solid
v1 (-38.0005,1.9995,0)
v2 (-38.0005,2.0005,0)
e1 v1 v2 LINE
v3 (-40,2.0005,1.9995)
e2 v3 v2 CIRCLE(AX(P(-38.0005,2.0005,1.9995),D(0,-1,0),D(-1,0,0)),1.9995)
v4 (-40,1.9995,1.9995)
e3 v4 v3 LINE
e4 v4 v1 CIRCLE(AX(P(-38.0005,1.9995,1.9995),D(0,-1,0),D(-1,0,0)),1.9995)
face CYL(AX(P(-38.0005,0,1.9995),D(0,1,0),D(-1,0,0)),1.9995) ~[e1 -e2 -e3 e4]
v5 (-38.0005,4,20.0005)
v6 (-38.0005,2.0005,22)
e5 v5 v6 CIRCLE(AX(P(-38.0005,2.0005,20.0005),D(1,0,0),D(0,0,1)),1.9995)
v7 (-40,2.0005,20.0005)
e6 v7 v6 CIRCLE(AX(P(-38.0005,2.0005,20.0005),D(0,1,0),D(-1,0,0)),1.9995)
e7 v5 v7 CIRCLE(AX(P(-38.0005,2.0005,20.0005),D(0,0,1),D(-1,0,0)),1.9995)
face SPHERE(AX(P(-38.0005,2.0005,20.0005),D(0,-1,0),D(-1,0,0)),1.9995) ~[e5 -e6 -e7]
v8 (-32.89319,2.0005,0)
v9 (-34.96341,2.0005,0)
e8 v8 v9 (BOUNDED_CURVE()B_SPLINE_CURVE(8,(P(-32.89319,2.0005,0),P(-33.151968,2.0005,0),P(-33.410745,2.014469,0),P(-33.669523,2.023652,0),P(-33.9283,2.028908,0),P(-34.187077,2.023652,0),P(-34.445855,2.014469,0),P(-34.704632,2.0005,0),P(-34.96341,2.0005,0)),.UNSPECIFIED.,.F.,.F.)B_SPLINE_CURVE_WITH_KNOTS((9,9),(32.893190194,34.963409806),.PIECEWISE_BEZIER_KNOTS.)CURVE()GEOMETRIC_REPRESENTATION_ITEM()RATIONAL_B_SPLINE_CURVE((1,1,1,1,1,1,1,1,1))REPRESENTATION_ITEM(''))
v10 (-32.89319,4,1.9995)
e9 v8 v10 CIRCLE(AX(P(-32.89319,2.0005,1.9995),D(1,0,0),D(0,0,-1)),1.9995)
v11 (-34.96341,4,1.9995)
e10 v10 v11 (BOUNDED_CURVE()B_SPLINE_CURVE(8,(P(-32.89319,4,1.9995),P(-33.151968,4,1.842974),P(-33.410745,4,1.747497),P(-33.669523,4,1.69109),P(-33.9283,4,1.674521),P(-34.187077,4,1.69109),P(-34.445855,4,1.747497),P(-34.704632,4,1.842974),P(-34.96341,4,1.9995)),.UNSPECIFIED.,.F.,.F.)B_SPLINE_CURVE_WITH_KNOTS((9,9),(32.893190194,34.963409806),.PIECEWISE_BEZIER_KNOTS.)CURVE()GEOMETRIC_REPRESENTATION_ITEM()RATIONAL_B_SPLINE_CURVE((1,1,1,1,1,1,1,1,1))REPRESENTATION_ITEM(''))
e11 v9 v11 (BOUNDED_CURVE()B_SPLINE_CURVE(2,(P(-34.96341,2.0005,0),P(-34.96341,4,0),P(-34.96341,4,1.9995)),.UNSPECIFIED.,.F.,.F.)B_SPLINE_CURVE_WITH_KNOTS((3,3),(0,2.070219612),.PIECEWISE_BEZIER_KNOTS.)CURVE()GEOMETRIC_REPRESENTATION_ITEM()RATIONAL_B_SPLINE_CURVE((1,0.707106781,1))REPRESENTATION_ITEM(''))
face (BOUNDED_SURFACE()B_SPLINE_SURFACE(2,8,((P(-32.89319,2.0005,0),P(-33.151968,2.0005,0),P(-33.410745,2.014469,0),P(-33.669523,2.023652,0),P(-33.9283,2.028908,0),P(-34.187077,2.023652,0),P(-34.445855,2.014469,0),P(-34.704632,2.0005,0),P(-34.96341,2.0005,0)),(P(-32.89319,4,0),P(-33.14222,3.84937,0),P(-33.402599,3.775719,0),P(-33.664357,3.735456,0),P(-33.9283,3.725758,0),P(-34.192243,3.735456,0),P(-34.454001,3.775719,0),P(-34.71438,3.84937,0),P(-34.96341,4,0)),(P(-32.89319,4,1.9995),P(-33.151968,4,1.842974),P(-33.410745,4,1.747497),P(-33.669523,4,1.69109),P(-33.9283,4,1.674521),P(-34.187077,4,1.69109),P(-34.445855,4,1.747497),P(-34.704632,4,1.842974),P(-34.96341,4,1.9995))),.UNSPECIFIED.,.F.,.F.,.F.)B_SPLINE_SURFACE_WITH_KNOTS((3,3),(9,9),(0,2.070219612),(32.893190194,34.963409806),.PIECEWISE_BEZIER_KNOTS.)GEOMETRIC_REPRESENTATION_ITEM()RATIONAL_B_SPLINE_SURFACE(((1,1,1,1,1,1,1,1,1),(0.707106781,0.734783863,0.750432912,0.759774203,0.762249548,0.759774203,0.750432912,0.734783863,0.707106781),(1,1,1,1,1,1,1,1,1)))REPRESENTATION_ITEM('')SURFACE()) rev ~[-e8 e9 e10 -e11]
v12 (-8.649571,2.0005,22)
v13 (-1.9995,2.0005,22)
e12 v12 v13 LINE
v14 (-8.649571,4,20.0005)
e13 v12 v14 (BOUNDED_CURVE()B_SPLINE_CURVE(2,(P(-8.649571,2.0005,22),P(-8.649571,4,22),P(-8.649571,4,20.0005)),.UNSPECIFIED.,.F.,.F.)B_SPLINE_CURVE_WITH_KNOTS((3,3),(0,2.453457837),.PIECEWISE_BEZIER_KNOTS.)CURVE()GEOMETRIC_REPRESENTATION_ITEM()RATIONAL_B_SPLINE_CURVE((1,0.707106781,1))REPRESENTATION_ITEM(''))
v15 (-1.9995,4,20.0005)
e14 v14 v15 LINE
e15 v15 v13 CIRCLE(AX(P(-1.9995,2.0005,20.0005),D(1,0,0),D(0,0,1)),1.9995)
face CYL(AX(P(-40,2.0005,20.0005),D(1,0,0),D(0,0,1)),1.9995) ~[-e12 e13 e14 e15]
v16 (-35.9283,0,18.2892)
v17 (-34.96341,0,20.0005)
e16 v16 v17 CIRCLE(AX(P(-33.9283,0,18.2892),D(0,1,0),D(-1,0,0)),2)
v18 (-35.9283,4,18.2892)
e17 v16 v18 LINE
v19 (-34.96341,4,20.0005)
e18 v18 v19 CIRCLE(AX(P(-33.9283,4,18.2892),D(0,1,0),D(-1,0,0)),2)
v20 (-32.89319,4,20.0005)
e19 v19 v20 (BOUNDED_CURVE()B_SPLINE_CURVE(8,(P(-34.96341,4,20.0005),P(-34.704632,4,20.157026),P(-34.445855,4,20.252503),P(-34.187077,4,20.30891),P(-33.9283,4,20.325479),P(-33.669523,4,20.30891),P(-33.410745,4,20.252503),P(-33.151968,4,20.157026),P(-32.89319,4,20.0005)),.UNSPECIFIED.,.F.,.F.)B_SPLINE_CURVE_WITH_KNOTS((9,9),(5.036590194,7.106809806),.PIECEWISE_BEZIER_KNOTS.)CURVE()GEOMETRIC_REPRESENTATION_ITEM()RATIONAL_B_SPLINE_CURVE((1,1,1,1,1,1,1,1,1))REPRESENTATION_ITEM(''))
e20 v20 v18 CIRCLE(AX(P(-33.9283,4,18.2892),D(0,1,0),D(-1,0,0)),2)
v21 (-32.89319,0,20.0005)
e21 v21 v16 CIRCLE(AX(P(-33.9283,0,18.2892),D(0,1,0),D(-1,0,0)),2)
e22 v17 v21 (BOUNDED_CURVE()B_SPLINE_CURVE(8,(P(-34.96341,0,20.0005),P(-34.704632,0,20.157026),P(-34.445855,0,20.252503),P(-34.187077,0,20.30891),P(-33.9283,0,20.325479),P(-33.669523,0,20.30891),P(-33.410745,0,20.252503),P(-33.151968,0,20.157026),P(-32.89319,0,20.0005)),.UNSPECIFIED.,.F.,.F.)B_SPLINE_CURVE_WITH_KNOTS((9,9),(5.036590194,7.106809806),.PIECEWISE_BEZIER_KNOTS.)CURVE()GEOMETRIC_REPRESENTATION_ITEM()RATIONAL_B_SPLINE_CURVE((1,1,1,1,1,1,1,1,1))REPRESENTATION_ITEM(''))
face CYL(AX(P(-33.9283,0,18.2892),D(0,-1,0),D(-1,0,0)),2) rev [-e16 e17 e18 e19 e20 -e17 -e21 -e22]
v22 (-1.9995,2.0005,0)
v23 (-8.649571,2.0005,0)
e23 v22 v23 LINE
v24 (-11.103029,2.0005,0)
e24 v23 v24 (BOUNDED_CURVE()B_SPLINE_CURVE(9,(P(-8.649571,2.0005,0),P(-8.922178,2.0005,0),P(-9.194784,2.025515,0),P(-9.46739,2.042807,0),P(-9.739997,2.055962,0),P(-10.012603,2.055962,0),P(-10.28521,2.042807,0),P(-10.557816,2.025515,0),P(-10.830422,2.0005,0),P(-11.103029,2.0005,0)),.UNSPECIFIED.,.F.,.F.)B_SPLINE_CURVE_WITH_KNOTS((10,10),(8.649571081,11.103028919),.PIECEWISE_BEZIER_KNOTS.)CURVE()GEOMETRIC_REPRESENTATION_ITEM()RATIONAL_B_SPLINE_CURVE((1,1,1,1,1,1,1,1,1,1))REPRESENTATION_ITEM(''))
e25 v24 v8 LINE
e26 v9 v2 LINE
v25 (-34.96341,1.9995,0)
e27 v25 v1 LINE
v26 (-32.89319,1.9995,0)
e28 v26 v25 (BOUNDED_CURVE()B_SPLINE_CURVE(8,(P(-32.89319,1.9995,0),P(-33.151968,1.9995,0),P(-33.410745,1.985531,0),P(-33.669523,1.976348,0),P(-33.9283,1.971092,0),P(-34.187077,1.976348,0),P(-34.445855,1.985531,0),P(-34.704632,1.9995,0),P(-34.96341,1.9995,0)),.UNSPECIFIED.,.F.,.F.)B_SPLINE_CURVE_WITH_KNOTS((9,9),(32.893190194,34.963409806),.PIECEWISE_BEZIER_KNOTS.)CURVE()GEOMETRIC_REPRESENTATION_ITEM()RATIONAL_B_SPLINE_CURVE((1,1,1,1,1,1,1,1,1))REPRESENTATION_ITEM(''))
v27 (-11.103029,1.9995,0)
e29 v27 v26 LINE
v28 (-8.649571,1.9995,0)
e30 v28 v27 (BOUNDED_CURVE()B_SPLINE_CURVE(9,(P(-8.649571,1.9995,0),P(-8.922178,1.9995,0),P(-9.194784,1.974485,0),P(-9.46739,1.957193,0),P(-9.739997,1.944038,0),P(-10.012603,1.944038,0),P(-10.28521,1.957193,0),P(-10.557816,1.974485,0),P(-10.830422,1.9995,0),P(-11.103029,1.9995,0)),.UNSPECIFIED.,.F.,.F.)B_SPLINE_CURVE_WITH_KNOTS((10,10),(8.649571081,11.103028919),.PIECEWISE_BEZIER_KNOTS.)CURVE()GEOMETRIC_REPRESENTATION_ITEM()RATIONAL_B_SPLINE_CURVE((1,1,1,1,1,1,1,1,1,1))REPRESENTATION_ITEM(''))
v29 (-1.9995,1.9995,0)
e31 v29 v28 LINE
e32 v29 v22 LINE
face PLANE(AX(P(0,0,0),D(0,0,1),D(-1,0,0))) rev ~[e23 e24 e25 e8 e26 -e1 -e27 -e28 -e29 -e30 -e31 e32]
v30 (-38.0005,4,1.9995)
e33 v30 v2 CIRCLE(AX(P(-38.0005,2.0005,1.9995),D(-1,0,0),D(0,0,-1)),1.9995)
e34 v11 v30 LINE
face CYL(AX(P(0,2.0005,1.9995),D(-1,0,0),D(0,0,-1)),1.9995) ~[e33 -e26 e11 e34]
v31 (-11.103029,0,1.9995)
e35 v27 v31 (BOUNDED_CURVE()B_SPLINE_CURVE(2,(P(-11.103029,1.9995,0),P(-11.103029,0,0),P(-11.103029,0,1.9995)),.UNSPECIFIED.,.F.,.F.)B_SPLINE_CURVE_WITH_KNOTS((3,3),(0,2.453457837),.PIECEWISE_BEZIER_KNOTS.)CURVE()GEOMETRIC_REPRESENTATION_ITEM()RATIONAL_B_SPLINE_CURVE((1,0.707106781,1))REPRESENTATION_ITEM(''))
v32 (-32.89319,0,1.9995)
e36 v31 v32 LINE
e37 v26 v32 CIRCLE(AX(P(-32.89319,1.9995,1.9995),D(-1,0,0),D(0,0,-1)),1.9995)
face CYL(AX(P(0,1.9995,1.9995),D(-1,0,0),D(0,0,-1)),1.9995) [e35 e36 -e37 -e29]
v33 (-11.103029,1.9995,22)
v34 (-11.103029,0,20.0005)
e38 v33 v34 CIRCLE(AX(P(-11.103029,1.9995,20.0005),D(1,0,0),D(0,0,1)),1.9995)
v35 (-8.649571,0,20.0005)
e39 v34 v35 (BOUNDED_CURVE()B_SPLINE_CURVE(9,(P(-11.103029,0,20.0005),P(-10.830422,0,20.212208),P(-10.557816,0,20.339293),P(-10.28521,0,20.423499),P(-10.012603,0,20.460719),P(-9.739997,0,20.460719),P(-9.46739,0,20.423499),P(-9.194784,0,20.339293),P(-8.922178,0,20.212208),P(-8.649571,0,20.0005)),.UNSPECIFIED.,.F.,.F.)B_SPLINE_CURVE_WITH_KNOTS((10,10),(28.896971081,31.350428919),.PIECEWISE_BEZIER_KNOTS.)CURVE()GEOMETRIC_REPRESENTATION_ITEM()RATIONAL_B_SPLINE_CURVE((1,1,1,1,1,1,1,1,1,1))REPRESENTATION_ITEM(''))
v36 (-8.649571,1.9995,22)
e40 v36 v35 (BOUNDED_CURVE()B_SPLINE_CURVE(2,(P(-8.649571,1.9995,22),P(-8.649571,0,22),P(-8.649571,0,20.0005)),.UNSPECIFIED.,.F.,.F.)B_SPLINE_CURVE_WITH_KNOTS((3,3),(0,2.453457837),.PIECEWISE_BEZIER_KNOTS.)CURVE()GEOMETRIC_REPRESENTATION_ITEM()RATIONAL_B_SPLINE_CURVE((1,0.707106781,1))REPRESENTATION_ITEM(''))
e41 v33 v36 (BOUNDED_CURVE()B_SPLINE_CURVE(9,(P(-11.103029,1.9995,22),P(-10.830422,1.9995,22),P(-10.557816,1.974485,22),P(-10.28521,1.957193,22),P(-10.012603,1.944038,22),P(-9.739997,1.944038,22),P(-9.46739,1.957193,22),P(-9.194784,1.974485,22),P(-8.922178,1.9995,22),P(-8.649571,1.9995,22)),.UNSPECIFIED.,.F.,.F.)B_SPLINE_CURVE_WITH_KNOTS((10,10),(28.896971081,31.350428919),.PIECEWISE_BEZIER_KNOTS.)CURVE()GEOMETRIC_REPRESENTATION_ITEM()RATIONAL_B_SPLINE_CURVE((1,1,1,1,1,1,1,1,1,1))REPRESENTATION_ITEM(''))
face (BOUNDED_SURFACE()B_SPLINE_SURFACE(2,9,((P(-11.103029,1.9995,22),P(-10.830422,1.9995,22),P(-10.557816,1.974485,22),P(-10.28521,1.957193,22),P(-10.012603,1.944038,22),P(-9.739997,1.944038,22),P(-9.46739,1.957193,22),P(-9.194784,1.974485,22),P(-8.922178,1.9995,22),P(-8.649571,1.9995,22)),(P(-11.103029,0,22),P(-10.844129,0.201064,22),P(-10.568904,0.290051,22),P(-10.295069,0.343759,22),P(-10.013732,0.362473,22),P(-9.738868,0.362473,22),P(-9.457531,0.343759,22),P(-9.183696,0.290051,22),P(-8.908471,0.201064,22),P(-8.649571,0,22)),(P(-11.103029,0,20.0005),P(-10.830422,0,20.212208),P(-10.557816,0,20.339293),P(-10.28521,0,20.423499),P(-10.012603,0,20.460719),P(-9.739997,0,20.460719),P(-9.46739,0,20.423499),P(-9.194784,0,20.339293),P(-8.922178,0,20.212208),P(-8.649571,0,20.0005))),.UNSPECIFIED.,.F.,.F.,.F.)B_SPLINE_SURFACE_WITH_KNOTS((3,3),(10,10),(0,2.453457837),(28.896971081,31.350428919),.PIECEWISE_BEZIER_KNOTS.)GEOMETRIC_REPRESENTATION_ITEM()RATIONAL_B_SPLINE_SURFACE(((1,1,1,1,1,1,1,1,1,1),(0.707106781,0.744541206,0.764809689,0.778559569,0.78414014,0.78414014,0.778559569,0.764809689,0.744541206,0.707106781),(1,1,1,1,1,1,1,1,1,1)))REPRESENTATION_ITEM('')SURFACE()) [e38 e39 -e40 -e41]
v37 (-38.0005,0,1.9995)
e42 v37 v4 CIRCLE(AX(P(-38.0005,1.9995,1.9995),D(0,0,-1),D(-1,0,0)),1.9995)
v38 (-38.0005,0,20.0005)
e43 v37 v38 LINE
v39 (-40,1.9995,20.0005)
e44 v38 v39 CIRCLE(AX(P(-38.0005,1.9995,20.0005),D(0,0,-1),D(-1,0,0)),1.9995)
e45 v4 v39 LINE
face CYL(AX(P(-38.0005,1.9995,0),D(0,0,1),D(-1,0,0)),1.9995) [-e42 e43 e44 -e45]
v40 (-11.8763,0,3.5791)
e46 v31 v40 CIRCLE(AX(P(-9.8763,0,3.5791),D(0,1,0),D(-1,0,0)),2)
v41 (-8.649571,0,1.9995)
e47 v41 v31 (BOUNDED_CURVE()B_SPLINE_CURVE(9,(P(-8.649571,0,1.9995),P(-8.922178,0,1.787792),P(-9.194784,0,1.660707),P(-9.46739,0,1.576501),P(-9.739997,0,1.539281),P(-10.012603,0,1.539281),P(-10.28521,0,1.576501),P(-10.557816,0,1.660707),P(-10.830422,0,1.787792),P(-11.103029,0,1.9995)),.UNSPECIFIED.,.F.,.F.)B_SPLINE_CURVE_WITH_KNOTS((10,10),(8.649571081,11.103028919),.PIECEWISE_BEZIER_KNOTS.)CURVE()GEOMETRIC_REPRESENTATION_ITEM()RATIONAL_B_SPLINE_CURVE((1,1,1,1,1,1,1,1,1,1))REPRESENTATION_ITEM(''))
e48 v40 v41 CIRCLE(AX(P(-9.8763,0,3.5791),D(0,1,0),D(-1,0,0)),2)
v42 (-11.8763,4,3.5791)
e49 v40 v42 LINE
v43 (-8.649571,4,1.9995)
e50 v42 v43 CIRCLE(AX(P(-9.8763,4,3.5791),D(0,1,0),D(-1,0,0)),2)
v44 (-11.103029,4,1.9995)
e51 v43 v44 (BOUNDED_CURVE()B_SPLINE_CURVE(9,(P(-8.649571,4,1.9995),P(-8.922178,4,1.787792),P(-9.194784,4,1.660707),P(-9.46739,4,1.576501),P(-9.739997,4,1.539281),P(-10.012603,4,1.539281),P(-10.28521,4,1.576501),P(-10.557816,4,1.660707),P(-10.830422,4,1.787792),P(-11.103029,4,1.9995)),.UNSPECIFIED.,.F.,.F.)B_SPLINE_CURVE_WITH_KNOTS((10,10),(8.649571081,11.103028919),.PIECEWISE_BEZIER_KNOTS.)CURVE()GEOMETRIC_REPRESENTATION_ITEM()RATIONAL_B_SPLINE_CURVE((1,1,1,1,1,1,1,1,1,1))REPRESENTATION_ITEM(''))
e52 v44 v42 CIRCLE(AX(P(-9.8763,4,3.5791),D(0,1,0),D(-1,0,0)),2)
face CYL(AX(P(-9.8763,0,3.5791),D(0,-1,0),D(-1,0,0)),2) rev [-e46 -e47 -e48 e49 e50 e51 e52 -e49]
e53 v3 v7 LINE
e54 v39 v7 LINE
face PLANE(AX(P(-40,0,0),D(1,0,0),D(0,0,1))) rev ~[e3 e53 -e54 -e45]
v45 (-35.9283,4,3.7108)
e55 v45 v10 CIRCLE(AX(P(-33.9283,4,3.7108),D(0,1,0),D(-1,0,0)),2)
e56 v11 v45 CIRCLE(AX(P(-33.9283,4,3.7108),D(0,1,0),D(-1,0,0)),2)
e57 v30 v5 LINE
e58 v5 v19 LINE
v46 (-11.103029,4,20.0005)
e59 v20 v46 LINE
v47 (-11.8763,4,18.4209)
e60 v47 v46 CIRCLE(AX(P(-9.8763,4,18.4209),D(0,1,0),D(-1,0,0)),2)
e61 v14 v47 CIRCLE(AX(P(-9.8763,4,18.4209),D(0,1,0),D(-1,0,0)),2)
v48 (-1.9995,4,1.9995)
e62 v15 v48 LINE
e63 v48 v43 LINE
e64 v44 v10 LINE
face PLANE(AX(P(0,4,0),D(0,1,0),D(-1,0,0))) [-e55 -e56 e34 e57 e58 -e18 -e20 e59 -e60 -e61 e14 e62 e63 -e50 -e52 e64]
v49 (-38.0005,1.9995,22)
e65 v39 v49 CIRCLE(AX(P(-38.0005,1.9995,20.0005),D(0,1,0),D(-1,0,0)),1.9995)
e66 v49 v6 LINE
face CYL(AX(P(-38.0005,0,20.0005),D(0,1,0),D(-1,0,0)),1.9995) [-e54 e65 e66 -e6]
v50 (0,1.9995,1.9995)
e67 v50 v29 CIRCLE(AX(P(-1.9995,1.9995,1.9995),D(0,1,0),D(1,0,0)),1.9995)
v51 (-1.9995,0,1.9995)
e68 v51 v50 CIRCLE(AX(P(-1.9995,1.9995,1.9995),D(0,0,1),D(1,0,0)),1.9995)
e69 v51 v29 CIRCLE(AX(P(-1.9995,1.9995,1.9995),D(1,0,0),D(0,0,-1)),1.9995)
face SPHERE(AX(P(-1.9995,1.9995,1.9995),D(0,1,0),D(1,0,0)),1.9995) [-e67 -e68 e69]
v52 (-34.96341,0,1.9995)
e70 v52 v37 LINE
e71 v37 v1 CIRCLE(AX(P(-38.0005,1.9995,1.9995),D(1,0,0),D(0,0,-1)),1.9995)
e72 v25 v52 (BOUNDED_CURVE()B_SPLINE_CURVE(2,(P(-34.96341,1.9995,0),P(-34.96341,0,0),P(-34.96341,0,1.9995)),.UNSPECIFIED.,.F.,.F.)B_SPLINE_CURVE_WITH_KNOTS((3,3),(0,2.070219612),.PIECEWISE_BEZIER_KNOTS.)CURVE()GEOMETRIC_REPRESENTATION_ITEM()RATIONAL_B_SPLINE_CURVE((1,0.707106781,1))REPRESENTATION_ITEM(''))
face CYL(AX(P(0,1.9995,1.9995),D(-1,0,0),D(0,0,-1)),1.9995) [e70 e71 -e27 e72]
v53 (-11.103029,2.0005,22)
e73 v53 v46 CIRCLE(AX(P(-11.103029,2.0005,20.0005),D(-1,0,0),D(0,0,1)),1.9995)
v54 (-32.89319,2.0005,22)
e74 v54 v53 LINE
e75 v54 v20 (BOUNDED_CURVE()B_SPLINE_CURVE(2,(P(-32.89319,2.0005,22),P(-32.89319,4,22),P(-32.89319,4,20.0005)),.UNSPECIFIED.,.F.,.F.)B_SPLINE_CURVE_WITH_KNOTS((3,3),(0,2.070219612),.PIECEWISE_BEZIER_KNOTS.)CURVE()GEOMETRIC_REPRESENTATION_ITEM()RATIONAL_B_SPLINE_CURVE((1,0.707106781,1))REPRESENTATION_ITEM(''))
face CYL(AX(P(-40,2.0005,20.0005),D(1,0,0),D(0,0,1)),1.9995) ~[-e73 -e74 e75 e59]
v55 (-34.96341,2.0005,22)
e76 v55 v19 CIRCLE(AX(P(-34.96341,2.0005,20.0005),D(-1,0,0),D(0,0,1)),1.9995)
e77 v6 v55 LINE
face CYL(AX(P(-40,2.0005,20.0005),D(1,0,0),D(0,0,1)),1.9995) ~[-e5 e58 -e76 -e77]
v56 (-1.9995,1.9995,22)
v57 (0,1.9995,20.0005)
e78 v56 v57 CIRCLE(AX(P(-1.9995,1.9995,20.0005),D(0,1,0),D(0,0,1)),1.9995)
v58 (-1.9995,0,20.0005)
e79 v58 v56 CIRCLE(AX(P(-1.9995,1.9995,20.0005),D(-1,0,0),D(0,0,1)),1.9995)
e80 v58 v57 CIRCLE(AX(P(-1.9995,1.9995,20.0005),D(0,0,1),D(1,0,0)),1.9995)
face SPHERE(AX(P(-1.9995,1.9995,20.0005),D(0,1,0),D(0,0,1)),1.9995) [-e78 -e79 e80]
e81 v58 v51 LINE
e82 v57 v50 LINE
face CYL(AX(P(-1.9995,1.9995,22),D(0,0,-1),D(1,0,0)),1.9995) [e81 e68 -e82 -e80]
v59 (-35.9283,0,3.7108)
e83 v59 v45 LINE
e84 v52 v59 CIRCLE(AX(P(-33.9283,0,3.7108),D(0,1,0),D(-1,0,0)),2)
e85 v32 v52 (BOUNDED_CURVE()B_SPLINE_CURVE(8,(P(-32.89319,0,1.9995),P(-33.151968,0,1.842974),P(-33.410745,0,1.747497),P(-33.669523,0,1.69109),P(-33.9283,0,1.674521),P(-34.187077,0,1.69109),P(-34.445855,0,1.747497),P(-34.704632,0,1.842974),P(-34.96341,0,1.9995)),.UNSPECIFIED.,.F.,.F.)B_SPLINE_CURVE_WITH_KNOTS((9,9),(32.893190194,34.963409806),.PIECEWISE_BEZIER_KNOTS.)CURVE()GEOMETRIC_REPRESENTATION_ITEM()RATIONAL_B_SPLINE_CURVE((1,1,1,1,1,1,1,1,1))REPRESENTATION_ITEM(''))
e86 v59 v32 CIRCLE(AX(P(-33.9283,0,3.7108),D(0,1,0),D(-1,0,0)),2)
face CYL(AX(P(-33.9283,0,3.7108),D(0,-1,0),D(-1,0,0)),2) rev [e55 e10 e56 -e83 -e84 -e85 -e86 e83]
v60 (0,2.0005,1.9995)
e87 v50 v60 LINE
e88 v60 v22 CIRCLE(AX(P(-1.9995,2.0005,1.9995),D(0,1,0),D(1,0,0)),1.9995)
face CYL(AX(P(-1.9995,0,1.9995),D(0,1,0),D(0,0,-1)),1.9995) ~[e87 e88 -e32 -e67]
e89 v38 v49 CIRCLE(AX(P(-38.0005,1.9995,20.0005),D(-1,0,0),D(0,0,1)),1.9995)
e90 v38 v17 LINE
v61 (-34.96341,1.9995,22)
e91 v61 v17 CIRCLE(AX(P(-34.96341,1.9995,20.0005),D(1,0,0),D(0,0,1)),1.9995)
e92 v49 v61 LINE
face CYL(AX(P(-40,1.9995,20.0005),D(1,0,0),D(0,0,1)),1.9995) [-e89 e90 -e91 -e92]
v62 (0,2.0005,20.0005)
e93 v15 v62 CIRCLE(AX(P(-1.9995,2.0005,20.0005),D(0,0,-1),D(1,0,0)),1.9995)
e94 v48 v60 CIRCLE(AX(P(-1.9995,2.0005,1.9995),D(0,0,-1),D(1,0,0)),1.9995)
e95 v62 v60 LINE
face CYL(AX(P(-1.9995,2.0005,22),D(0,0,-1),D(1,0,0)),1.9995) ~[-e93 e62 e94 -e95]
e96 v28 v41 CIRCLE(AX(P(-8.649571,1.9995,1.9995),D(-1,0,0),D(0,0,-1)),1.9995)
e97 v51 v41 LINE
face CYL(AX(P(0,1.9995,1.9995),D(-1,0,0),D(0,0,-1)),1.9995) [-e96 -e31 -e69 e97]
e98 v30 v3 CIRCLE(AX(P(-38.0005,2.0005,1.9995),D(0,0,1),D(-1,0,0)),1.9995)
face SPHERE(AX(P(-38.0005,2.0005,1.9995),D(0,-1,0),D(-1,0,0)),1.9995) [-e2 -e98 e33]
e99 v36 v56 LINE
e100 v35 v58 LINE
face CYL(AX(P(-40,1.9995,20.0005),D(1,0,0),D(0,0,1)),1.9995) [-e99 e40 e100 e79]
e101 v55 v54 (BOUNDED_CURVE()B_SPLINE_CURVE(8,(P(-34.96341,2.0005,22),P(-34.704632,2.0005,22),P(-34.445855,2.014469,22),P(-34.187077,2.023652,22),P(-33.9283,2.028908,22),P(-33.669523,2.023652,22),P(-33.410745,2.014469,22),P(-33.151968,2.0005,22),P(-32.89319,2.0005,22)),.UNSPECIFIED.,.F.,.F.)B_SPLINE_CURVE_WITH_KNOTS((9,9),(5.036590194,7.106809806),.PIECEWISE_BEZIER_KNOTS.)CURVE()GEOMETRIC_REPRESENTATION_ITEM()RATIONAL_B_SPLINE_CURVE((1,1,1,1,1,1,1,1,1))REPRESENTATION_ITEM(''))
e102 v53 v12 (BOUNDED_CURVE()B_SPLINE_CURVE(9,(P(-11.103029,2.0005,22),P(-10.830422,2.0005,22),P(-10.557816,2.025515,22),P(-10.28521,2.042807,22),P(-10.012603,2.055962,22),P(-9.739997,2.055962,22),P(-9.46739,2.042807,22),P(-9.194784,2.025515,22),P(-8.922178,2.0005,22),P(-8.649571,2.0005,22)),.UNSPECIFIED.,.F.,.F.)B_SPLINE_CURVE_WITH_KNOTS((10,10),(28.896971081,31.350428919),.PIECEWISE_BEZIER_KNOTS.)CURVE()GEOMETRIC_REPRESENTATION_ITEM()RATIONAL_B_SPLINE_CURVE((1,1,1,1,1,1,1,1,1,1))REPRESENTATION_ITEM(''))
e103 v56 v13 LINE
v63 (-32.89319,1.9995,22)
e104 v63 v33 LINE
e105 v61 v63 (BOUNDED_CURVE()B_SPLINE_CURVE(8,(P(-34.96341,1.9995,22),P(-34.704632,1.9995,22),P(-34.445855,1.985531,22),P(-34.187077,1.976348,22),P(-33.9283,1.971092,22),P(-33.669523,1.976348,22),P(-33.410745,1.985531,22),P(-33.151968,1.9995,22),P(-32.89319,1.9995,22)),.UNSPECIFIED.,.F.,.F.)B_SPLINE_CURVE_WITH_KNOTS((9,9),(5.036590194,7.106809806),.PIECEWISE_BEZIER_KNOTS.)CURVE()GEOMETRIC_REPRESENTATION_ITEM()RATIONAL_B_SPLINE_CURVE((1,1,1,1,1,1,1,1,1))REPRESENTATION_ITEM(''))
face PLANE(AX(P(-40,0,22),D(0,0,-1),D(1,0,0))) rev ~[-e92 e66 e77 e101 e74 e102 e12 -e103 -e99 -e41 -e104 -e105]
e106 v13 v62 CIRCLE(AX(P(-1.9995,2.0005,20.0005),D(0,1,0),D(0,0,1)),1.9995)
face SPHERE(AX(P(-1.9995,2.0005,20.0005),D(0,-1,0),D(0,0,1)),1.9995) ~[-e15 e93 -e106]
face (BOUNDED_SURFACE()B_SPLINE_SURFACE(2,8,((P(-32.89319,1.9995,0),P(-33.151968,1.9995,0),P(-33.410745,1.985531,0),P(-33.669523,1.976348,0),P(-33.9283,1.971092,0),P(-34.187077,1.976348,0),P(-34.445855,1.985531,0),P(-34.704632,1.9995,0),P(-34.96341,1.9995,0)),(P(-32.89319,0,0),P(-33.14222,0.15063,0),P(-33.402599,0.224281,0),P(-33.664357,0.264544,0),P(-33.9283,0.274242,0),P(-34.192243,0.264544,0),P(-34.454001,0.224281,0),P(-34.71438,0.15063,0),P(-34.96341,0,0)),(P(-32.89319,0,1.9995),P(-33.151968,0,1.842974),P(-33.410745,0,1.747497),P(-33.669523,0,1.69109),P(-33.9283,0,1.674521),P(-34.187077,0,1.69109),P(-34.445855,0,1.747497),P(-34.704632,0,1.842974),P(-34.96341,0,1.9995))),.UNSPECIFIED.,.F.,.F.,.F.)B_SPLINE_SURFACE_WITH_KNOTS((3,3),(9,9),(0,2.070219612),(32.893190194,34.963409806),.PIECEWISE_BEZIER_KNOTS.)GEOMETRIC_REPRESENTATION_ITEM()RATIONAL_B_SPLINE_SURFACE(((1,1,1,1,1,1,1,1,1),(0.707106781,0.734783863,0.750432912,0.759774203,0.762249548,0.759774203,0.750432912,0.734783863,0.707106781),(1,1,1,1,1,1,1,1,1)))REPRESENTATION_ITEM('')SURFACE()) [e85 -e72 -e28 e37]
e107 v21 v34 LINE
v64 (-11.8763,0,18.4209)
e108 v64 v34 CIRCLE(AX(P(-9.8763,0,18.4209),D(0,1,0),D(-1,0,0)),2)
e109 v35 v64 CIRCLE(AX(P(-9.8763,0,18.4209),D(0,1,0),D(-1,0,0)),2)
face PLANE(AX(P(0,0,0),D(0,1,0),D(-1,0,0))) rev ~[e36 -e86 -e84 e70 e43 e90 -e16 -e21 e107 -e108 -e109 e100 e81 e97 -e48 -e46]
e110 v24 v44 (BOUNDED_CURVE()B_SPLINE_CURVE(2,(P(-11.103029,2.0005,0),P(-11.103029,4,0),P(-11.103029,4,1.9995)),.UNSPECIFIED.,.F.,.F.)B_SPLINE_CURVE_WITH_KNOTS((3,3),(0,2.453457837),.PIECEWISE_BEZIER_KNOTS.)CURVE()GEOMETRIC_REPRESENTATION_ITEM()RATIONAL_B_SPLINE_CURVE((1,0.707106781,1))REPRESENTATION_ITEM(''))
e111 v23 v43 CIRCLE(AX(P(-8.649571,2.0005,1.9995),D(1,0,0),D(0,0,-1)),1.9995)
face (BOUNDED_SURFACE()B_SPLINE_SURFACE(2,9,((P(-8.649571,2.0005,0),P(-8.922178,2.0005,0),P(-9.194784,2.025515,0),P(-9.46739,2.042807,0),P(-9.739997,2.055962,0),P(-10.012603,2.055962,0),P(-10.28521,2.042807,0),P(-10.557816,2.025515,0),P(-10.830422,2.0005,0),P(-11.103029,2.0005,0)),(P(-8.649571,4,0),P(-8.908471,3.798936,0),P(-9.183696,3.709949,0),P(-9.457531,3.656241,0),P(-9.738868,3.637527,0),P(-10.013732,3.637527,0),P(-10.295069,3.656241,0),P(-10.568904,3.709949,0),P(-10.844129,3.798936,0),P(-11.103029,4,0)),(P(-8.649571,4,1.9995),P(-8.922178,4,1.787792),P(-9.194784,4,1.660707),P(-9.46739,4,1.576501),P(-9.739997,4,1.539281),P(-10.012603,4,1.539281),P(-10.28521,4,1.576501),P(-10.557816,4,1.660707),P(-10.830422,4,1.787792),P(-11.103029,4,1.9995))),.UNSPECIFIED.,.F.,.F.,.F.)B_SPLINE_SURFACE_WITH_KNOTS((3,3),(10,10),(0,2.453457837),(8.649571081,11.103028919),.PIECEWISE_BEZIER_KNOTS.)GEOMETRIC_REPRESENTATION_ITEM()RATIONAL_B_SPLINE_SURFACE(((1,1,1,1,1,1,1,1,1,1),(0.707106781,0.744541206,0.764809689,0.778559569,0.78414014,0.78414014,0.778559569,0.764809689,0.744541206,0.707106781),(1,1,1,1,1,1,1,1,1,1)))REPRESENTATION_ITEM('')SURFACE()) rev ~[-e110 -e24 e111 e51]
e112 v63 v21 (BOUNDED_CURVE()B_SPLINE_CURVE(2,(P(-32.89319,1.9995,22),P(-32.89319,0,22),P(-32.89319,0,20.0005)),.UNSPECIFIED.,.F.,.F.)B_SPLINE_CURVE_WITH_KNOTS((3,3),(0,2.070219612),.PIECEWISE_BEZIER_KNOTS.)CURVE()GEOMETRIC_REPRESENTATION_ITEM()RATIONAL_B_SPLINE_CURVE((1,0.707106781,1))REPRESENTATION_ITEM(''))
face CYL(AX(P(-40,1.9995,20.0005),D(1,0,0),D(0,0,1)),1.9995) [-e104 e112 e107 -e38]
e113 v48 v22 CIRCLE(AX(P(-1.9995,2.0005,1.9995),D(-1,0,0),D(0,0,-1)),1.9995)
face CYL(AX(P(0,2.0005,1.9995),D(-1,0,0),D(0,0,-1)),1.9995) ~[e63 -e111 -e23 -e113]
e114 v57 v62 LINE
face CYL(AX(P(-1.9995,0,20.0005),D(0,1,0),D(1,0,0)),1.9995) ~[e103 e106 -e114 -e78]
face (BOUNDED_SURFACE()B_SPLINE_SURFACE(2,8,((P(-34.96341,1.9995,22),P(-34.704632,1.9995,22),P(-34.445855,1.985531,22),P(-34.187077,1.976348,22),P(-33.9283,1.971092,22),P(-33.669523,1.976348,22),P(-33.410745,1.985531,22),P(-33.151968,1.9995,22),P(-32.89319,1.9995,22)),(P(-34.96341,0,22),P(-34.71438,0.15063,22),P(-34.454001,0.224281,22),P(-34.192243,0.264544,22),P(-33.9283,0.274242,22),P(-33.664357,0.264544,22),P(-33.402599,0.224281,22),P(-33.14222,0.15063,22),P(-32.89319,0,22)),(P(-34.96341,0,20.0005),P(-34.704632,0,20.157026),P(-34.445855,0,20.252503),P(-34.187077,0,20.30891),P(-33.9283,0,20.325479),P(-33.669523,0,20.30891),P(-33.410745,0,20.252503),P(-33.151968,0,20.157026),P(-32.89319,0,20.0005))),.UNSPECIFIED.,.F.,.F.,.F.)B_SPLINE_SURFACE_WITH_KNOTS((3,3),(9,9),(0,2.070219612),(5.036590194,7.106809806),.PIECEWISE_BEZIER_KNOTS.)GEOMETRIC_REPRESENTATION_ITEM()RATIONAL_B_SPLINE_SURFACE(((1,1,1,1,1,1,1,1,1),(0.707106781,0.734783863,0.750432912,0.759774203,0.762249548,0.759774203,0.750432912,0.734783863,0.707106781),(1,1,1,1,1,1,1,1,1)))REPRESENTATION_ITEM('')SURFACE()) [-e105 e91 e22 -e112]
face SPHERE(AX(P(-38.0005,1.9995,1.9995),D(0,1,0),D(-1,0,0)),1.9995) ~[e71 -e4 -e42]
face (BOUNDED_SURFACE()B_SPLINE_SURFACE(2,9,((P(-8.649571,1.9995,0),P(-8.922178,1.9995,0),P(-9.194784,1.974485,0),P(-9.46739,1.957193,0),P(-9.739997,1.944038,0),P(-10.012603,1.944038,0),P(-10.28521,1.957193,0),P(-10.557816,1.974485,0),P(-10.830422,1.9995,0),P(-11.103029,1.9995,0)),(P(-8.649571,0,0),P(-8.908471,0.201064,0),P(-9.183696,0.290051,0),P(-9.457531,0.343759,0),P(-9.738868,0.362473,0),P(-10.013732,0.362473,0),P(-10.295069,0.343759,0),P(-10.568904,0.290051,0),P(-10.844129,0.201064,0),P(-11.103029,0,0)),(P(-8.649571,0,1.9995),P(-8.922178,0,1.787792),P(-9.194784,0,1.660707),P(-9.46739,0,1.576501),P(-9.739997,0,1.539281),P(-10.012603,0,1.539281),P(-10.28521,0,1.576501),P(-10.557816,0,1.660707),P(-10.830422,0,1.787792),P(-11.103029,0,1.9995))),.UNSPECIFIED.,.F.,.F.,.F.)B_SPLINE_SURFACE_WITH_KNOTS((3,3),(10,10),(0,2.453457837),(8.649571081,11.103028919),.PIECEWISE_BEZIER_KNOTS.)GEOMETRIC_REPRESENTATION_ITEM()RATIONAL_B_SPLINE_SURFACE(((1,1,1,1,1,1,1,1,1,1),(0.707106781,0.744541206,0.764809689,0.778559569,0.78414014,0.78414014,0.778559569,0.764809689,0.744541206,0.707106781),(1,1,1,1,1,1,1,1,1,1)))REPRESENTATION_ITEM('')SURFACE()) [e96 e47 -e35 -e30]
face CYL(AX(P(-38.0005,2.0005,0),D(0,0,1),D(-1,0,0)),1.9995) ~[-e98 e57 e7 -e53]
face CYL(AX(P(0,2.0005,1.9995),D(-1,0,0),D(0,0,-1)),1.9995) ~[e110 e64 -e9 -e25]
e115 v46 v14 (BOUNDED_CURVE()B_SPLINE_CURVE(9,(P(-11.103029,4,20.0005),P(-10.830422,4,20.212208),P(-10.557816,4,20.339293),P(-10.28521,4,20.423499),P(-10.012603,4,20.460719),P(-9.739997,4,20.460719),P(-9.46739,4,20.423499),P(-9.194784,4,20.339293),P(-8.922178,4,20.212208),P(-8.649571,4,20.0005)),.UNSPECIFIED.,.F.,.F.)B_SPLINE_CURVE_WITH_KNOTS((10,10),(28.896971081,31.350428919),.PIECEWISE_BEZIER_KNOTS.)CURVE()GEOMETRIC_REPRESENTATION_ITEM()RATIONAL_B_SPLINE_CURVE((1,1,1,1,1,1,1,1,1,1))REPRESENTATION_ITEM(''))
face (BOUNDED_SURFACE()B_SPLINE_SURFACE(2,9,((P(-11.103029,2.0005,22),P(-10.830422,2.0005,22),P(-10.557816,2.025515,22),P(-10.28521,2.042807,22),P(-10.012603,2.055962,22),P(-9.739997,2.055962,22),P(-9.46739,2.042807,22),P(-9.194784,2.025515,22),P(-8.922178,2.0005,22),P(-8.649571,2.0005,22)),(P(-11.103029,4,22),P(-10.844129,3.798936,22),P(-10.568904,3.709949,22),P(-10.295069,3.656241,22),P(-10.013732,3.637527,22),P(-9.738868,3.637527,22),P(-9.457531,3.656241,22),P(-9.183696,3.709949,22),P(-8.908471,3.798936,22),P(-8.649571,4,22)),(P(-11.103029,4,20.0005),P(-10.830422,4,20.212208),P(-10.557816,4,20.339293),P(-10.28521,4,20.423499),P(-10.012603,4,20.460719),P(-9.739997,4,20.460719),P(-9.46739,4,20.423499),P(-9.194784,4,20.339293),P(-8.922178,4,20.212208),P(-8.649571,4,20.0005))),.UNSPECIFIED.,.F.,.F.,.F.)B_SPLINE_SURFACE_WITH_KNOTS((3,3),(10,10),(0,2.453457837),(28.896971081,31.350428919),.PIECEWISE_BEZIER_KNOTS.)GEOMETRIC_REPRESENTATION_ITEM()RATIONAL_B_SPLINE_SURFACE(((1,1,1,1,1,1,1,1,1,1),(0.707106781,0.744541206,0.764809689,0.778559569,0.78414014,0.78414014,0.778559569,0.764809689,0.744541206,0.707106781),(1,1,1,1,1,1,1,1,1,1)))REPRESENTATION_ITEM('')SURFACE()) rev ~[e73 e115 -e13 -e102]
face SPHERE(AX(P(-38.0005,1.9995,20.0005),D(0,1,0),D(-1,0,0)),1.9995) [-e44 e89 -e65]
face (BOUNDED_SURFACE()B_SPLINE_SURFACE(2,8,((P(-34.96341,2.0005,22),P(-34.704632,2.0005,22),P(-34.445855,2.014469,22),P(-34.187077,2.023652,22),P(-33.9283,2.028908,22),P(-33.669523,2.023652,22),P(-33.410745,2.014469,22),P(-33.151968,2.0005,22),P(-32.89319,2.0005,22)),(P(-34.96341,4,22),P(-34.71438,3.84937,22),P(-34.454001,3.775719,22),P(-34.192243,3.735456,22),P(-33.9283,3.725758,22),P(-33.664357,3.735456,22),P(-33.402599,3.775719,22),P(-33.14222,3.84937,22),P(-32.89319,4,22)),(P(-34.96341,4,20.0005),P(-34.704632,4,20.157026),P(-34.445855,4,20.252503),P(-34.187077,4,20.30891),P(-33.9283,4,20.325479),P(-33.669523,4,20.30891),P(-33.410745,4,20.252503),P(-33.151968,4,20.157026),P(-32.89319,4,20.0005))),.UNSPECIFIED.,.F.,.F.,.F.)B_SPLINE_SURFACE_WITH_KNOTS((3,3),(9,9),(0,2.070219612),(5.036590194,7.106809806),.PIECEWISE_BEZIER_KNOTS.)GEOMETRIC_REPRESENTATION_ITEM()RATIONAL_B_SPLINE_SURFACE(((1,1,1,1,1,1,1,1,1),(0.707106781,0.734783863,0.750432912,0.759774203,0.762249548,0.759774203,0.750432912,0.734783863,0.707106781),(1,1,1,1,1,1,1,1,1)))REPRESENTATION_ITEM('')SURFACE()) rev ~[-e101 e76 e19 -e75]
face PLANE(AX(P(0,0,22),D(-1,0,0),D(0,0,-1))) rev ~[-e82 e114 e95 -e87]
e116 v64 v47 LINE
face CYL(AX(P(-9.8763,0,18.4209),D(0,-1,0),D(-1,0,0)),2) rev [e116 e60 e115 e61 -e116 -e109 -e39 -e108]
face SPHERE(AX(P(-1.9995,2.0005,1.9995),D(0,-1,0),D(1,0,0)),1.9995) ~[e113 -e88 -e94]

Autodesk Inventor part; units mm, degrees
ref_plane "YZ Plane" through (0, 0, 0) normal (1, 0, 0) x (0, 1, 0)
ref_plane "XZ Plane" through (0, 0, 0) normal (0, 1, 0) x (-1, 0, 0)
ref_plane "XY Plane" through (0, 0, 0) normal (0, 0, 1) x (1, 0, 0)
sketch "Эскиз1" plane through (0, 0, 0) normal (0, 1, 0) x (-1, 0, 0)
  line L0 (40, 22) -> (0, 22)
  line L1 (0, 22) -> (0, 0)
  line L2 (0, 0) -> (40, 0)
  line L3 (40, 0) -> (40, 22)
  circle A0 centre (33.9283, 18.2892) radius 2
  circle A1 centre (33.9283, 3.7108) radius 2
  circle A2 centre (9.8763, 18.4209) radius 2
  circle A3 centre (9.8763, 3.5791) radius 2
  dimension "d0" = 40
  dimension "d1" = 22
  dimension "d2" = 4
  dimension "d3" = 4
  dimension "d4" = 4
  dimension "d5" = 4
  dimension "d6" = 6.0717
  dimension "d7" = 6.0717
  dimension "d8" = 3.7108
  dimension "d9" = 3.7108
  dimension "d10" = 9.8763
  dimension "d11" = 9.8763
  dimension "d12" = 3.5791
  dimension "d13" = 3.5791
extrude "Выдавливание1" add sketch "Эскиз1" along normal blind 4
fillet "Сопряжение1" radius 2 12 edges at (0, 2, 22) (0, 2, 0) (-40, 2, 0) (-40, 2, 22) (-40, 0, 11) (-40, 4, 11) (-20, 0, 22) (-20, 4, 22) (0, 0, 11) (0, 4, 11) (-20, 0, 0) (-20, 4, 0)
